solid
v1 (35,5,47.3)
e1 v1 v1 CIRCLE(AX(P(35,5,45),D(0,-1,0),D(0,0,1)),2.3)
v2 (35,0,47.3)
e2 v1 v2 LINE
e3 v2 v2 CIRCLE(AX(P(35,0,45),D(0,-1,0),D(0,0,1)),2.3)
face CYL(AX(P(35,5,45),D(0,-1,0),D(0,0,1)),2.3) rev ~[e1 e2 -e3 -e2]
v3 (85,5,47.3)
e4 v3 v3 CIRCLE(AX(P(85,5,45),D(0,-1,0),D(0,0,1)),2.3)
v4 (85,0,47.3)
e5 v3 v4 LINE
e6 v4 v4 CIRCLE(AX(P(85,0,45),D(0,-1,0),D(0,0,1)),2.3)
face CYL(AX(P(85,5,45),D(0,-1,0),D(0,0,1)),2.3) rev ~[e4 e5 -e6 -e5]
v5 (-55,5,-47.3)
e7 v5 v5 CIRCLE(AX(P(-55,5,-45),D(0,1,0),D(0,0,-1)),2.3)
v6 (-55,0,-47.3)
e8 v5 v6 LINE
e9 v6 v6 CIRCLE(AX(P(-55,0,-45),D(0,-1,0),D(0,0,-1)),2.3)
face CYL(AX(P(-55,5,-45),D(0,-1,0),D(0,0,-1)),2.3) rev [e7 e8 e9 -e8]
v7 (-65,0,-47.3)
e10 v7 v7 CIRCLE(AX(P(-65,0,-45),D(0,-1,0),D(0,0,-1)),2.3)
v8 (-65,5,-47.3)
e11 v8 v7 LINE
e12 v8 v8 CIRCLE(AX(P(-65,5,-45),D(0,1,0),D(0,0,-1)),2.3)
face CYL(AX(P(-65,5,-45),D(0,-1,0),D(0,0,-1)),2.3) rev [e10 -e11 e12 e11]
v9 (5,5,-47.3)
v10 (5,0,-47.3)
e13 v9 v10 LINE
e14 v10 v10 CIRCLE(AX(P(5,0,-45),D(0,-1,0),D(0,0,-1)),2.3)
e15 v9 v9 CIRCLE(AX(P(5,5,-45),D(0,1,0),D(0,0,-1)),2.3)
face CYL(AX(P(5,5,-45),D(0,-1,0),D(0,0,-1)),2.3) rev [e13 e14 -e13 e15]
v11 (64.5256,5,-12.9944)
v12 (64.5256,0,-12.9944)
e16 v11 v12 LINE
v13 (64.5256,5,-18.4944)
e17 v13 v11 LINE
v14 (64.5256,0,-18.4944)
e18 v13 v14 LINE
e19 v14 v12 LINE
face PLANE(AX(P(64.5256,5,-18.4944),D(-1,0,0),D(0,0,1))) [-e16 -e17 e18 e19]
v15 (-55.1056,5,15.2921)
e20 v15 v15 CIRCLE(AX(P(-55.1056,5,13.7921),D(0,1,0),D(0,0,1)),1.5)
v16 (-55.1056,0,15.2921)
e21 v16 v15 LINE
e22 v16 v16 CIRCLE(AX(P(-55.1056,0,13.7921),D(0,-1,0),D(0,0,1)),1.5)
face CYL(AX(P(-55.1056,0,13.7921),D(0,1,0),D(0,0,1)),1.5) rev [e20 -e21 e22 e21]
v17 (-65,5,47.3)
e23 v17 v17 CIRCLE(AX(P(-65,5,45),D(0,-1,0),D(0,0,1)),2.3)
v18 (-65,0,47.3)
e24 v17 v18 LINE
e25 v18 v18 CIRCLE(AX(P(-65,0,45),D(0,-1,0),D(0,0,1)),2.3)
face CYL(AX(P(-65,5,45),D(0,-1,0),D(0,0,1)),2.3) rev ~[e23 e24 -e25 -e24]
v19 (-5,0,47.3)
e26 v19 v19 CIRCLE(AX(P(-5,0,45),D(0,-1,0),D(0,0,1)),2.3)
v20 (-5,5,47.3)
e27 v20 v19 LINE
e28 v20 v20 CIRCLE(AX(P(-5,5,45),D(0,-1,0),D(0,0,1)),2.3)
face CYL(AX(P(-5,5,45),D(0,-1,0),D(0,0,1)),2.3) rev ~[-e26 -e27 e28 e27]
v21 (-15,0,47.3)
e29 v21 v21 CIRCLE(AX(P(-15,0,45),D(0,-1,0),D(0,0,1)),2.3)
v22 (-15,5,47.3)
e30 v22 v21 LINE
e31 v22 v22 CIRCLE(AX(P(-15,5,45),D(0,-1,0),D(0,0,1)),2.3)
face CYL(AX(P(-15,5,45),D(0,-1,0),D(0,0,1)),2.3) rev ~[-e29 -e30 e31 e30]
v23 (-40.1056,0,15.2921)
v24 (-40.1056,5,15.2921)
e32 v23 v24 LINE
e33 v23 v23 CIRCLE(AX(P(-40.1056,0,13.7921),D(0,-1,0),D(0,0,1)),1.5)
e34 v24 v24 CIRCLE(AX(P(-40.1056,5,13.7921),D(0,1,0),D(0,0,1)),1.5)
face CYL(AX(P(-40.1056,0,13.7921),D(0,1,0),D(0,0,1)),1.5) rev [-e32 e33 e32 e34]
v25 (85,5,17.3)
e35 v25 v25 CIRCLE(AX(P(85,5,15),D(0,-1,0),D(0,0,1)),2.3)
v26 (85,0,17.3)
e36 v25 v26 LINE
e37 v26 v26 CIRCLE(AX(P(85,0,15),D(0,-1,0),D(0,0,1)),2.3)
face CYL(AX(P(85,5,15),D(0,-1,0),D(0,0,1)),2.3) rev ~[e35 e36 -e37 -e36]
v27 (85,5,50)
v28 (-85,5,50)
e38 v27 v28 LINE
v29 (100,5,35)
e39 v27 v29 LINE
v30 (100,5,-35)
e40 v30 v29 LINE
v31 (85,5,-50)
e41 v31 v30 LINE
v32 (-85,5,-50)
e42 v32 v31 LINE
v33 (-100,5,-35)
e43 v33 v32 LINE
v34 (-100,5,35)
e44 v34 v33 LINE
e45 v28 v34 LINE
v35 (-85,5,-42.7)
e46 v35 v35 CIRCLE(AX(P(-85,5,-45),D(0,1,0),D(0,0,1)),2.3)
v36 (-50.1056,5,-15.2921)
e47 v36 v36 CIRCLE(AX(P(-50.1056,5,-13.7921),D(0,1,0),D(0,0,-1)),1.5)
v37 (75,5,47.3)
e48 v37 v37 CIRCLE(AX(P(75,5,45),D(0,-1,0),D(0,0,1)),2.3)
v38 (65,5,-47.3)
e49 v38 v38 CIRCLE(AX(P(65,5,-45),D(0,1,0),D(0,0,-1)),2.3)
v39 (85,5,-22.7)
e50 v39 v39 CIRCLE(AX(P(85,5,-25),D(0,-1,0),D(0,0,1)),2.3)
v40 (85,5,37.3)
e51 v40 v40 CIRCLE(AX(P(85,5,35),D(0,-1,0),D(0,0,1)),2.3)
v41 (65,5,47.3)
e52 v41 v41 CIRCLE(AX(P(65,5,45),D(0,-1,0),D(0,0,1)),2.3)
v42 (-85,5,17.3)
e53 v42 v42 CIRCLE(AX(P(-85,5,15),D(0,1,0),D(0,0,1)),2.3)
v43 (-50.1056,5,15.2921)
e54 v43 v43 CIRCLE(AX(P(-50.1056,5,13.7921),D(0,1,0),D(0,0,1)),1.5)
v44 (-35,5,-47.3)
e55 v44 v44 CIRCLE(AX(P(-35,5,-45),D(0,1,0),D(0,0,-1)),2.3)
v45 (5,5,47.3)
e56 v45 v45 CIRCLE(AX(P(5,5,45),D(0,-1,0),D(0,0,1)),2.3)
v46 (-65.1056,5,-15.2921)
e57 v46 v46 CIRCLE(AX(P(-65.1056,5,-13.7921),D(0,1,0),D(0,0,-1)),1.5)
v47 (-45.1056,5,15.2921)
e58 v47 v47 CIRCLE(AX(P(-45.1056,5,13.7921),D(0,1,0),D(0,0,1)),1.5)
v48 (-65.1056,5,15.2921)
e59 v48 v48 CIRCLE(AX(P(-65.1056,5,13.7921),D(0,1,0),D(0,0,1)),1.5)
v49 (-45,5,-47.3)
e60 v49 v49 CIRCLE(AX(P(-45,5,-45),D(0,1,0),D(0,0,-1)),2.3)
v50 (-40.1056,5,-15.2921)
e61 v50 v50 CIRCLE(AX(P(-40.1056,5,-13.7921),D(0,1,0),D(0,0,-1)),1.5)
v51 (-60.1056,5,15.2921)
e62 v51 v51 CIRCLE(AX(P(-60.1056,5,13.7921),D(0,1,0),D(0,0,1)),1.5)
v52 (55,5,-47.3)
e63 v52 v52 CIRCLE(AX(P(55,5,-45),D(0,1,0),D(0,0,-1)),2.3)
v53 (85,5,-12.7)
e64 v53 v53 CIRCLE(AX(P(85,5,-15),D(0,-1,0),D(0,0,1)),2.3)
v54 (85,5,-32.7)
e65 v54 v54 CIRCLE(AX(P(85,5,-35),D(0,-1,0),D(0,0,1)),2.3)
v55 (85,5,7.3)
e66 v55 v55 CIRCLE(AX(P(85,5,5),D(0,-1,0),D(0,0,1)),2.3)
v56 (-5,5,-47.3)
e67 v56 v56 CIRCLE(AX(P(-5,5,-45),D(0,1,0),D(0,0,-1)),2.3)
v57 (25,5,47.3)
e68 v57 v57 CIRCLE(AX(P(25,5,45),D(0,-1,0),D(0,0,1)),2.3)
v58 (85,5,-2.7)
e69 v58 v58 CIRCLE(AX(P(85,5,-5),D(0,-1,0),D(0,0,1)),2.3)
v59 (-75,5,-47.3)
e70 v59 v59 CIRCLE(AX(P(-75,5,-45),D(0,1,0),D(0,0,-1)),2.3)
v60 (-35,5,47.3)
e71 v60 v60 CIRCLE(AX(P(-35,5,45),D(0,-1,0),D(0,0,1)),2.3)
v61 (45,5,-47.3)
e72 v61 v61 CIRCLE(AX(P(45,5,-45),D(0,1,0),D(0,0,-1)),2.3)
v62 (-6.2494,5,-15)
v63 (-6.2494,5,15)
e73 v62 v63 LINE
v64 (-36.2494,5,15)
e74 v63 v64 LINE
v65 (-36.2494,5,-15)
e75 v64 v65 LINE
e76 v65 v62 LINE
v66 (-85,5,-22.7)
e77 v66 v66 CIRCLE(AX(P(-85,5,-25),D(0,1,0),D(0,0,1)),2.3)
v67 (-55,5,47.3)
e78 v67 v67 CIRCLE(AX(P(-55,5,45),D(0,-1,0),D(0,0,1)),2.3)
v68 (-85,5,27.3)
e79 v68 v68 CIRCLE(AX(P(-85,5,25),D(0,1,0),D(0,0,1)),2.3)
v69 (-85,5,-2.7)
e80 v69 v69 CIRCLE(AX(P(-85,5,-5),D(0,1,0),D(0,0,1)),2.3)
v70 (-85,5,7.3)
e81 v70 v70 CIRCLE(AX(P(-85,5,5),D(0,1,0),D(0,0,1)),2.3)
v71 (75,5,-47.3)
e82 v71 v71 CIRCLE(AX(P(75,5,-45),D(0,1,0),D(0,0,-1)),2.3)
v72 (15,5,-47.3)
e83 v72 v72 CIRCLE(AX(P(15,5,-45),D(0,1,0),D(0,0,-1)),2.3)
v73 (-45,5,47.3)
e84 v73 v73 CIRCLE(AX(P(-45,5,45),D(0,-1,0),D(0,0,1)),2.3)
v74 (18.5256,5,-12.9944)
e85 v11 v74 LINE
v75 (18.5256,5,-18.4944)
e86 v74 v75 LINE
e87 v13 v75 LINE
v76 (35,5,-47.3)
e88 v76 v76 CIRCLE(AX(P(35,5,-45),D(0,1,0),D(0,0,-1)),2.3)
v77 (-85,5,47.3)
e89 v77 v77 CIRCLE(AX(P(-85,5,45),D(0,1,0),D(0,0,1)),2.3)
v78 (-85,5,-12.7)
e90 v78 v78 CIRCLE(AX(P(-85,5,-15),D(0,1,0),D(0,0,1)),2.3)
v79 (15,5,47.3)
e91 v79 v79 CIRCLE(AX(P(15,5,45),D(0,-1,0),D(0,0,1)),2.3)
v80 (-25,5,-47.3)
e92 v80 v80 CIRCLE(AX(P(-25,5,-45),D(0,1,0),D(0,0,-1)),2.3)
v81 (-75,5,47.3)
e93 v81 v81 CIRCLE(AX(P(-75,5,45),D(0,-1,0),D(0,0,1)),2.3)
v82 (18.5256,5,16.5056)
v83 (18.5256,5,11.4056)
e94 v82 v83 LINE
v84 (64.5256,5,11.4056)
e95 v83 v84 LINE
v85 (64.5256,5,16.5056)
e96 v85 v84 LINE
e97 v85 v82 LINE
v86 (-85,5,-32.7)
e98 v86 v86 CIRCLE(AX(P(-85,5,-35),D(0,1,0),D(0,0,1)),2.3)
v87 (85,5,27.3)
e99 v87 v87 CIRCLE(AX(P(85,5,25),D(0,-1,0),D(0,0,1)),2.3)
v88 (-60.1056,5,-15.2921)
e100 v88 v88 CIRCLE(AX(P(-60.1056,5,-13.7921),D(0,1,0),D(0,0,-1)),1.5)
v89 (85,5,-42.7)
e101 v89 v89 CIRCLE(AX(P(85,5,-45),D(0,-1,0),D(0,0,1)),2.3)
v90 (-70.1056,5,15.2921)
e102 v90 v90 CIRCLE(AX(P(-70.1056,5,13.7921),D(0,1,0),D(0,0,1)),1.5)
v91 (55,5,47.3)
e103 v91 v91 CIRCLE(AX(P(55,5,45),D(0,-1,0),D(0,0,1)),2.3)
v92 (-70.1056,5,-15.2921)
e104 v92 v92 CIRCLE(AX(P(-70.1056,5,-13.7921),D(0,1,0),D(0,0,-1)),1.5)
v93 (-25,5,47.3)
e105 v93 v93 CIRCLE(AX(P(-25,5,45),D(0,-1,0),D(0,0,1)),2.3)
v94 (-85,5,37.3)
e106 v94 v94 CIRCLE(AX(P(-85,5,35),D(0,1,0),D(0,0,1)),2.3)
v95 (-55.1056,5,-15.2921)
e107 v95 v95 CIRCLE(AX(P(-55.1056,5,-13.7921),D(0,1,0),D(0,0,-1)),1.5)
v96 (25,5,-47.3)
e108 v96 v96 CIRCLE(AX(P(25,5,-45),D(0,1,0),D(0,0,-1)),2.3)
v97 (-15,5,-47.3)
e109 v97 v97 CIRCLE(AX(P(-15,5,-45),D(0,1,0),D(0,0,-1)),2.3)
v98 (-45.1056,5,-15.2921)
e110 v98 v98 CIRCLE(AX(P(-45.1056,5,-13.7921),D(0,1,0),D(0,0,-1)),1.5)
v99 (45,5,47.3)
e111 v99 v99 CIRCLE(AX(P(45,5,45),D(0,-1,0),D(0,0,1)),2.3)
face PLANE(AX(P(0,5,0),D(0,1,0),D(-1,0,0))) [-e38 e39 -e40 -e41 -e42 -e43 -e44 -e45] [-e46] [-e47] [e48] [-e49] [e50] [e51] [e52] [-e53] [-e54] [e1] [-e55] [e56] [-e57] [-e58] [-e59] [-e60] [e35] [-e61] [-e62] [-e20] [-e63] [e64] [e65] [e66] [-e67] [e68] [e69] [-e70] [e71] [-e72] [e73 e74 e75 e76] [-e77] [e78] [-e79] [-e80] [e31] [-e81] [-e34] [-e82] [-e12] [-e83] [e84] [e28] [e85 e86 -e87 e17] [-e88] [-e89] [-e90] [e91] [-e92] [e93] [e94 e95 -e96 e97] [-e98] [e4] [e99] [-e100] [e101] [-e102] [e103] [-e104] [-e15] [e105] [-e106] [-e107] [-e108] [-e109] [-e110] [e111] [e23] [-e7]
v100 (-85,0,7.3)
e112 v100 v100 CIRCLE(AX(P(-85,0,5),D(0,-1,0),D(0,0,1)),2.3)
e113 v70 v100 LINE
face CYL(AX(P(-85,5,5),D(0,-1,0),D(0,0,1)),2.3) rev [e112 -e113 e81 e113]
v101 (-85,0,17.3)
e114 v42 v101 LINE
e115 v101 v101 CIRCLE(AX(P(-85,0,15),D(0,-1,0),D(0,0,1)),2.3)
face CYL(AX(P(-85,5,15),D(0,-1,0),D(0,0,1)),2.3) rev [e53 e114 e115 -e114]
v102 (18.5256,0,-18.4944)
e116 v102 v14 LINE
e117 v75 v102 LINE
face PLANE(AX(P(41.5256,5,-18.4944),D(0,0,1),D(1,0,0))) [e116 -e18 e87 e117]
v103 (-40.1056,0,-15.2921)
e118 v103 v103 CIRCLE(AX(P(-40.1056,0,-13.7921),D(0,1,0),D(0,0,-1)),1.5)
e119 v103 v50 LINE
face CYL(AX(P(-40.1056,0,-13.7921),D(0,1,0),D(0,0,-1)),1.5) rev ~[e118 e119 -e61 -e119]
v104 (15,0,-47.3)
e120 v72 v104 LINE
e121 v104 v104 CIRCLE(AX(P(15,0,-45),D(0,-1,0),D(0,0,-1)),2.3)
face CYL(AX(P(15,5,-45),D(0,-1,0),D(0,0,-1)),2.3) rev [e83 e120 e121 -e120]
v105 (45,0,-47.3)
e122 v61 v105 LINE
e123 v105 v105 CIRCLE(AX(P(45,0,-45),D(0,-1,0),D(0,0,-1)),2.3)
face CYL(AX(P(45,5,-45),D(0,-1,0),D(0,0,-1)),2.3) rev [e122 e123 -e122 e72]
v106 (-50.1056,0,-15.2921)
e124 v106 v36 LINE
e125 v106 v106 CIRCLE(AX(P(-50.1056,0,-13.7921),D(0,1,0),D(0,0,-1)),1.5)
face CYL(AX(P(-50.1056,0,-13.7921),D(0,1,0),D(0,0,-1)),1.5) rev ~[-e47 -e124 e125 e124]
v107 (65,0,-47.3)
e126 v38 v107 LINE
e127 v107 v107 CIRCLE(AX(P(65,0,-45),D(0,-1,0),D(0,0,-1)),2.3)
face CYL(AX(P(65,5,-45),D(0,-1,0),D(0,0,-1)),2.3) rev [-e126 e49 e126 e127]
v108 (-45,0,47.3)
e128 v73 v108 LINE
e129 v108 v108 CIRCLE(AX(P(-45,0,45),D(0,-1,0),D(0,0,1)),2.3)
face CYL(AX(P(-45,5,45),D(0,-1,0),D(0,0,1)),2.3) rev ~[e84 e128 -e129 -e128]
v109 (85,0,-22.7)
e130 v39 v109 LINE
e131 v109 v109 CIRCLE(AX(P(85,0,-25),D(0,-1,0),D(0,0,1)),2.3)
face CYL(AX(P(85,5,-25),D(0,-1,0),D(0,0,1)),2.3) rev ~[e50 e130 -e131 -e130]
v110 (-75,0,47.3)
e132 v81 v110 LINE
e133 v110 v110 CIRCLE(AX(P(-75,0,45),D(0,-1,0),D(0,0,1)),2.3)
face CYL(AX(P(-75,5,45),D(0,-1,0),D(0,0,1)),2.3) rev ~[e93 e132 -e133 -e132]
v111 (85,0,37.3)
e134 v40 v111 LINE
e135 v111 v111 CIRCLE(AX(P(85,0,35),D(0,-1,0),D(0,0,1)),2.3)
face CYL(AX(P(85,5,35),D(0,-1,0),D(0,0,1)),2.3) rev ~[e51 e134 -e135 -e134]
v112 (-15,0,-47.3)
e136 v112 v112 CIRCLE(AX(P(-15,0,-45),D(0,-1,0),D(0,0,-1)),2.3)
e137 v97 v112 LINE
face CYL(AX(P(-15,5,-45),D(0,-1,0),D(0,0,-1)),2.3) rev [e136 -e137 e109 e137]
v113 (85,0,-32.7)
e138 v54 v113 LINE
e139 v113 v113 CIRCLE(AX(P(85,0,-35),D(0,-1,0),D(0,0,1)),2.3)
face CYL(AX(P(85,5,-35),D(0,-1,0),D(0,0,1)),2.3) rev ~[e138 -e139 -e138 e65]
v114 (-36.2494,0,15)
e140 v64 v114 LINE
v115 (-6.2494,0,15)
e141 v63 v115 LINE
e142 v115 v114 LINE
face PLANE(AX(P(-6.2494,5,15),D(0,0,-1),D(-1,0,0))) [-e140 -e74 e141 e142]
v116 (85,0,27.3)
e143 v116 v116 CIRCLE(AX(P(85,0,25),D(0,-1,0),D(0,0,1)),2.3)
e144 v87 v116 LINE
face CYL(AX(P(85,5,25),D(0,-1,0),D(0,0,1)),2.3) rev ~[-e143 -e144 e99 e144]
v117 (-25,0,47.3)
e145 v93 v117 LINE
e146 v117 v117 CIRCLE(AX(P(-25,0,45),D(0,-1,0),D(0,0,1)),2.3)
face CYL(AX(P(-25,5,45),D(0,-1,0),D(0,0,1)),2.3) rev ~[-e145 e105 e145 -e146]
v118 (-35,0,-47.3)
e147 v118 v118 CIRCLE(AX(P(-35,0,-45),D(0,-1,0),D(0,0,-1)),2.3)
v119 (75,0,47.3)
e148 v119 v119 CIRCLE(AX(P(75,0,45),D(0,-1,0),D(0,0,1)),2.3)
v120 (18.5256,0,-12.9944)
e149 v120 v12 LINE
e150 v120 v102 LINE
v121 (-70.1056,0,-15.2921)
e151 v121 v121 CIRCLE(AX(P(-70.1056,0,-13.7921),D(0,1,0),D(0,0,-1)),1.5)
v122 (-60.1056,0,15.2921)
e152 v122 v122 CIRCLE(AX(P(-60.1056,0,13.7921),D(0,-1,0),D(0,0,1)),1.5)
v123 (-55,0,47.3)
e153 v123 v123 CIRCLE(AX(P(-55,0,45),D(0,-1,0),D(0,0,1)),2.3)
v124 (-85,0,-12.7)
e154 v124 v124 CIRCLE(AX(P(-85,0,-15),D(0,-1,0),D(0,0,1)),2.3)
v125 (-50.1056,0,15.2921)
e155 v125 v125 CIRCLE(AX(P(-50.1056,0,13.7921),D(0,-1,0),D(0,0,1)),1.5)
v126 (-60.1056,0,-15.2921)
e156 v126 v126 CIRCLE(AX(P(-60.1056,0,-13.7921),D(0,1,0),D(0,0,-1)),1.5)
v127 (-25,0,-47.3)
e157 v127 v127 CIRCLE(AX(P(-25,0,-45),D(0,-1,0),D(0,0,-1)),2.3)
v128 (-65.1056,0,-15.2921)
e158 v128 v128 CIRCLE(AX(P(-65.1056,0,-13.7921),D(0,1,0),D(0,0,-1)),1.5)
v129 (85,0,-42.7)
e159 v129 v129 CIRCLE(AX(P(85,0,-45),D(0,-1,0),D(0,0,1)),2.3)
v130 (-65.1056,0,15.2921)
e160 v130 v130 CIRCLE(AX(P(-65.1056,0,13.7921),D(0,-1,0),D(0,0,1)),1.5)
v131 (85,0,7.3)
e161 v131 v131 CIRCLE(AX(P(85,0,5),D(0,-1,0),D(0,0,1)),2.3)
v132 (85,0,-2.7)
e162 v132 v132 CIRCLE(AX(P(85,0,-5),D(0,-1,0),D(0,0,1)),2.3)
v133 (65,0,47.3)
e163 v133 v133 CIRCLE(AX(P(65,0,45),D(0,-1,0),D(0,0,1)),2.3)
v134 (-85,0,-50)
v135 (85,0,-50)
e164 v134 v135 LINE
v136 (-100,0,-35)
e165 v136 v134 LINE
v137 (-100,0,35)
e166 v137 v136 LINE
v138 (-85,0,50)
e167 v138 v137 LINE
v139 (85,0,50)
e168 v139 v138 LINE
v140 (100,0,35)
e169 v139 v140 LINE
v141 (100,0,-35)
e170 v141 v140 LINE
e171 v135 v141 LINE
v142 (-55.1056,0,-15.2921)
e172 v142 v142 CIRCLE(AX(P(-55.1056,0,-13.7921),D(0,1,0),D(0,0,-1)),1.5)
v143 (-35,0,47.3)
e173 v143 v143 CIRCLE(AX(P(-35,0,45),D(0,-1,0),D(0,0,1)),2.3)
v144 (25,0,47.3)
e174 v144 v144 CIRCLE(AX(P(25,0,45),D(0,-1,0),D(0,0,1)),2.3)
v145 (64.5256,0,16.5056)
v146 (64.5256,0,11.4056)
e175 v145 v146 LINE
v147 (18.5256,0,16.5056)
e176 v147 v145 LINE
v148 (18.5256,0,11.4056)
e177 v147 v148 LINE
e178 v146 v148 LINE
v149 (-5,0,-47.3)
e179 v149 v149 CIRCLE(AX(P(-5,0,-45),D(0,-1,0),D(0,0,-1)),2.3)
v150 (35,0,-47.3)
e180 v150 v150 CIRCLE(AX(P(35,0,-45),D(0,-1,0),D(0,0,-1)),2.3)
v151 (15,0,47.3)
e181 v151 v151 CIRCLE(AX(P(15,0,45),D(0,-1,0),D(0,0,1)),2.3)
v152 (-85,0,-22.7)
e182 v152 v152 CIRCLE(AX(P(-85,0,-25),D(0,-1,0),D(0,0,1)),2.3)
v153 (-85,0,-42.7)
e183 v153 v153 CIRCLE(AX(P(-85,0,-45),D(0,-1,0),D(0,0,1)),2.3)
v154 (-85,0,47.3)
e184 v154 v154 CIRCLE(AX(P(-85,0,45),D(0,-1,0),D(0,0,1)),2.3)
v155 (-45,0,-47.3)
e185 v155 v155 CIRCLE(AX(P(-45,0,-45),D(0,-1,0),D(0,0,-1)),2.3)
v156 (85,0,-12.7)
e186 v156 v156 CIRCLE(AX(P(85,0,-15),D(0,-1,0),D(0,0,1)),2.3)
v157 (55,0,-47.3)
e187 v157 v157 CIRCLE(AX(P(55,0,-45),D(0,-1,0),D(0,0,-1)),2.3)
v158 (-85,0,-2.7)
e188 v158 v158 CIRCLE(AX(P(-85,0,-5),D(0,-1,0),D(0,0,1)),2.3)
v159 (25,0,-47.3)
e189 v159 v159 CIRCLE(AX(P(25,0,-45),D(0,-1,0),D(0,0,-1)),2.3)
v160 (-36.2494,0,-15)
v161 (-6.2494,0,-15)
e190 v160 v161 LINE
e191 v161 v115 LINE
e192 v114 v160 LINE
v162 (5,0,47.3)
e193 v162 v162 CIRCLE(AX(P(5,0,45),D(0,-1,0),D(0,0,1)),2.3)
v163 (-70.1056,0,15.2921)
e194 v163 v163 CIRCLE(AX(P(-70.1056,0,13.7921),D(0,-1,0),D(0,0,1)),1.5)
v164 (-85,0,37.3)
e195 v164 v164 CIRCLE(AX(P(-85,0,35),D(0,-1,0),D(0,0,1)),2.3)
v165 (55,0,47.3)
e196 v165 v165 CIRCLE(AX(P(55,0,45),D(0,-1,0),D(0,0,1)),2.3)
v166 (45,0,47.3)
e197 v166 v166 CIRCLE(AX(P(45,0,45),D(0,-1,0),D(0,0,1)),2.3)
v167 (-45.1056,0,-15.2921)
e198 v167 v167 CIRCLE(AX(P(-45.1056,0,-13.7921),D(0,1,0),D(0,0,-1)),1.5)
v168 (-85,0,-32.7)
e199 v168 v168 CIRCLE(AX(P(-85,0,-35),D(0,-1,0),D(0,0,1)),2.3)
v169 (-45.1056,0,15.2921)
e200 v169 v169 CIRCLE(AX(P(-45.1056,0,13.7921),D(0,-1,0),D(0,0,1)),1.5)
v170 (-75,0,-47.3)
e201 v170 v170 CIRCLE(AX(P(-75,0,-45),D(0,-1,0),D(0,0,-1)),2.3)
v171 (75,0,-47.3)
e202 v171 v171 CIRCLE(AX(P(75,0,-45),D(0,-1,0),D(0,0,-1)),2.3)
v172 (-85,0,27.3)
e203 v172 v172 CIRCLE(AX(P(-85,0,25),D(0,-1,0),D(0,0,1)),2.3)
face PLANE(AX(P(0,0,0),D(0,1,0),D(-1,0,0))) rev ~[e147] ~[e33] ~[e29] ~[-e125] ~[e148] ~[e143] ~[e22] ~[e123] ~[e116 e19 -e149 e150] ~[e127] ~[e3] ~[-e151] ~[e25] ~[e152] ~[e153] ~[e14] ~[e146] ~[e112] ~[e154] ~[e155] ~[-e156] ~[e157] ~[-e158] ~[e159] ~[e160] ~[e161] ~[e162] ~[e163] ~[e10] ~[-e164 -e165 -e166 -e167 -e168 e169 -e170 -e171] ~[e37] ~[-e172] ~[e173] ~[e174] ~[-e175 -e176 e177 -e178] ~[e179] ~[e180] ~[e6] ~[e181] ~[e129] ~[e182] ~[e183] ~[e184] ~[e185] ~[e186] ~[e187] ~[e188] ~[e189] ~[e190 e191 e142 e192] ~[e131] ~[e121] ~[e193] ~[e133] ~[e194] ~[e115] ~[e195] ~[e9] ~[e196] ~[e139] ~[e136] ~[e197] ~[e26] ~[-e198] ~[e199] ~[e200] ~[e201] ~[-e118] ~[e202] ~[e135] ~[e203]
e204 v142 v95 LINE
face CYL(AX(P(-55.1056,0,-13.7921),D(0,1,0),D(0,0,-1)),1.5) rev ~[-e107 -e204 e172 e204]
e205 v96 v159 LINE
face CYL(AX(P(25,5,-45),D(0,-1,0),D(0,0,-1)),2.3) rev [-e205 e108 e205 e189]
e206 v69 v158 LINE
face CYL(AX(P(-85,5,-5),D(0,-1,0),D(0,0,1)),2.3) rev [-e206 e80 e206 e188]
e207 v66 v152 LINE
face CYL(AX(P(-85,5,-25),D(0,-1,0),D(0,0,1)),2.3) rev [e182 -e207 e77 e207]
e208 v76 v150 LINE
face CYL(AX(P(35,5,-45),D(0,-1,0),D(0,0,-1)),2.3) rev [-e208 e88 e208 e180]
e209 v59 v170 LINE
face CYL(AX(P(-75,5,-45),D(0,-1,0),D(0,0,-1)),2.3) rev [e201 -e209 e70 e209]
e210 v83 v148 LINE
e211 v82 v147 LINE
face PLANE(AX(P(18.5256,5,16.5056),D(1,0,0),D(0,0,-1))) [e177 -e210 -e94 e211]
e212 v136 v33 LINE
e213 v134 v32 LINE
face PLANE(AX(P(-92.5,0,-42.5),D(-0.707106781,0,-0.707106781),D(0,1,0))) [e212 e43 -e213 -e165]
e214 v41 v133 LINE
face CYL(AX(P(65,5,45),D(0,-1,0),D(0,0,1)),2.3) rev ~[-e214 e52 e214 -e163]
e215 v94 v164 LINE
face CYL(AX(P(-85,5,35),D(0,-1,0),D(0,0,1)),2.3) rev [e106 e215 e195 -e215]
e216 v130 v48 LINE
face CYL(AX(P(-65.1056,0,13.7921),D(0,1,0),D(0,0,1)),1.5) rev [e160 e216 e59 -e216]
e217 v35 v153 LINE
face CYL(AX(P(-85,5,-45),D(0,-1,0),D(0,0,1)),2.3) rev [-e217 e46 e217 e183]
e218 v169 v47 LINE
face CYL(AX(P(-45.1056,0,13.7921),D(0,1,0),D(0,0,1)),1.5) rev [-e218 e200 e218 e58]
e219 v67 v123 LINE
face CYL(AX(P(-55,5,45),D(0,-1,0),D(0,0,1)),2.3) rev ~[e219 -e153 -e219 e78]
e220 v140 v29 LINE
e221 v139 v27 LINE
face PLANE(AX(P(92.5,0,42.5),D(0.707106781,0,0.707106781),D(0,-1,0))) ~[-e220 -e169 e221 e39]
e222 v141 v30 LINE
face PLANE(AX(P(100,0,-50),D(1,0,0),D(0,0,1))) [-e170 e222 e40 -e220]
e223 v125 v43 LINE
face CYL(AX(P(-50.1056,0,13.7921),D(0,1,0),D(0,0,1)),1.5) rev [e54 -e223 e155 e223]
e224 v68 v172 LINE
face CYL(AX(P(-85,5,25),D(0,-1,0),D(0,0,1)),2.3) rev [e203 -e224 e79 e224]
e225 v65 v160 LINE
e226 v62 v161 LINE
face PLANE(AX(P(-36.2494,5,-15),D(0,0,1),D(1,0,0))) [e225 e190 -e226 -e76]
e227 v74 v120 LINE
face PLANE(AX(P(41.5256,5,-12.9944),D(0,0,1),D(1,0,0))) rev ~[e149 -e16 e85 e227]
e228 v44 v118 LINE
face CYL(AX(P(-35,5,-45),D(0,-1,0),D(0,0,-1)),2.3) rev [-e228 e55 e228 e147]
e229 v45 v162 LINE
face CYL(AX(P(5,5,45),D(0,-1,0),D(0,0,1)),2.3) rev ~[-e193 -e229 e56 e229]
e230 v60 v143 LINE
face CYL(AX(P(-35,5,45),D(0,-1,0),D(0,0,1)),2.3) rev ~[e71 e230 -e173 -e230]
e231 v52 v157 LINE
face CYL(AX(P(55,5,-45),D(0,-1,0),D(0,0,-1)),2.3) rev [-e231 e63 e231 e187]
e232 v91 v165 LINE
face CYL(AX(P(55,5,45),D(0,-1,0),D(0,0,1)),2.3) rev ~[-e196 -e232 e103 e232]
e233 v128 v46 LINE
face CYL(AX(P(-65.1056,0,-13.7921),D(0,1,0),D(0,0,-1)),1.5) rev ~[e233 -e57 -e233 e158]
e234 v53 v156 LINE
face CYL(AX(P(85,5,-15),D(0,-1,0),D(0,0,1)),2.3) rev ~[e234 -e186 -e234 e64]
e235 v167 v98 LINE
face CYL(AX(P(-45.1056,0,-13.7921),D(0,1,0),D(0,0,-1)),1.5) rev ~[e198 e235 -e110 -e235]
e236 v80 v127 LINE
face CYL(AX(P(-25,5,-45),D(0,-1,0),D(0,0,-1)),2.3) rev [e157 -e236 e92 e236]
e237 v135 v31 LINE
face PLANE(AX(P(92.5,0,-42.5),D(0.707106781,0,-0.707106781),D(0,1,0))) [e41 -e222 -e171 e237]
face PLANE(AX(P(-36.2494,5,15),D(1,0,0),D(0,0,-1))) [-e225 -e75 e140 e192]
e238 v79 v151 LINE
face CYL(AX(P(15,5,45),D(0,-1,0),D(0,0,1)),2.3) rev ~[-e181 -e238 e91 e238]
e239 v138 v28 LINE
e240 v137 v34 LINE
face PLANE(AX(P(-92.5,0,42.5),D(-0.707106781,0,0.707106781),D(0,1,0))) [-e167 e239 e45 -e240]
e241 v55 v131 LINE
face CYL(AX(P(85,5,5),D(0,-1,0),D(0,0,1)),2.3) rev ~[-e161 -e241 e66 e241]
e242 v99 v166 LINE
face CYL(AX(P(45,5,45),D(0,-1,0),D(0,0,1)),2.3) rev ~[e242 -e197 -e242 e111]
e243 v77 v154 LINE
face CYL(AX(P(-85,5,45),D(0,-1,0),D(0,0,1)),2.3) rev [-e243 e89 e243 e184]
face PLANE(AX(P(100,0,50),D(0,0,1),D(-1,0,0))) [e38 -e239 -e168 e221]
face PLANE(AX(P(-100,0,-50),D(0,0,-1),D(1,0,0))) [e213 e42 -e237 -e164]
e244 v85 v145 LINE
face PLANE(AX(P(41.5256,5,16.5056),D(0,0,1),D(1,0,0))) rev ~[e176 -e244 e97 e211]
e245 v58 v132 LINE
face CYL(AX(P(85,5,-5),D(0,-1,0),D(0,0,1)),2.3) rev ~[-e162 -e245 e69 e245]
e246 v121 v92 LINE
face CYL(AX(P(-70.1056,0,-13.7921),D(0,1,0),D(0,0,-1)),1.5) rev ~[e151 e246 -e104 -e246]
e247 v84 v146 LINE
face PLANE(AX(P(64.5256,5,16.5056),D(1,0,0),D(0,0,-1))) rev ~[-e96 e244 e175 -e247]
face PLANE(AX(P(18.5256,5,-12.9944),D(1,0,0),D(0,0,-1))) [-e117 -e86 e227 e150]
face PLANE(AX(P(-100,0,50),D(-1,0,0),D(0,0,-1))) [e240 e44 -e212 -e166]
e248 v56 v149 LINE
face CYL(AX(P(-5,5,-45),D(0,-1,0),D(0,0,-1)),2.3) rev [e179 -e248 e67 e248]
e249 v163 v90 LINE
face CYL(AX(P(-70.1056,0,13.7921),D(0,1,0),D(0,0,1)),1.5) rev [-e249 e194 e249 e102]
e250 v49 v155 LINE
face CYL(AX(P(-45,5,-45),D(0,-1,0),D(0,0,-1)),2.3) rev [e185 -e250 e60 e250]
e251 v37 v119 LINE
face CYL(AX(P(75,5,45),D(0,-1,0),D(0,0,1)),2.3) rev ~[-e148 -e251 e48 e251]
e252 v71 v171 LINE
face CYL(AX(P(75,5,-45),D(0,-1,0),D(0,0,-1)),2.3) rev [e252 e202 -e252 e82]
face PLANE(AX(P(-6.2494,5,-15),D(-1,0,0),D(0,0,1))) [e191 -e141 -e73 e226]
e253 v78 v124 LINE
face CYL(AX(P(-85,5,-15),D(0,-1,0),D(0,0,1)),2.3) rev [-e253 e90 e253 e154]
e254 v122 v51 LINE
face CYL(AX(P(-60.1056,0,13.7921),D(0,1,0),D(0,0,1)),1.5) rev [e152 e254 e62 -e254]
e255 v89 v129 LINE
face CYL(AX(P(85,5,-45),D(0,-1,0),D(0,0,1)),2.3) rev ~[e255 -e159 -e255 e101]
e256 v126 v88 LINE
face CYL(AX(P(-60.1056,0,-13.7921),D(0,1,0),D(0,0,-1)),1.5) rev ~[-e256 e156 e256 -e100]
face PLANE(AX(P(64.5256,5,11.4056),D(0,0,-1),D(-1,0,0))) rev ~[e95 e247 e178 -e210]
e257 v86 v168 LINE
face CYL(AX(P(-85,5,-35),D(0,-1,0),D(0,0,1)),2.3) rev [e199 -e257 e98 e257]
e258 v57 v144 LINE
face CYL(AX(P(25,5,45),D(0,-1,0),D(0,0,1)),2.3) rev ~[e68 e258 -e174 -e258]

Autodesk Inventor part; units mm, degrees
ref_plane "YZ Plane" through (0, 0, 0) normal (1, 0, 0) x (0, 1, 0)
ref_plane "XZ Plane" through (0, 0, 0) normal (0, 1, 0) x (-1, 0, 0)
ref_plane "XY Plane" through (0, 0, 0) normal (0, 0, 1) x (1, 0, 0)
sketch "Sketch1" plane through (0, 0, 0) normal (0, 1, 0) x (-1, 0, 0)
  line L0 (-100, 50) -> (100, 50)
  line L1 (100, 50) -> (100, -50)
  line L2 (100, -50) -> (-100, -50)
  line L3 (-100, -50) -> (-100, 50)
  line L4 (-100, 50) -> (100, -50) construction
  line L5 (100, 50) -> (-100, -50) construction
  point P0 (0, 0)
  dimension "d0" = 200
  dimension "d1" = 100
extrude "Extrusion1" add sketch "Sketch1" along normal blind 5
chamfer "Chamfer1" distance 15 angle 45 4 edges at (100, 2.5, -50) (100, 2.5, 50) (-100, 2.5, 50) (-100, 2.5, -50)
sketch "Sketch2" plane through (0, 5, 0) normal (0, 1, 0) x (1, 0, 0)
  line L0 (-85, -50) -> (85, -50) projected
  line L1 (85, 50) -> (85, -50)
  line L2 (85, 0) -> (0, 0)
  line L3 (85, 50) -> (-85, 50) projected
  line L4 (85, 0) -> (75, 0)
  line L5 (75, 0) -> (75, 50)
  line L6 (85, -50) -> (85, -45)
  line L7 (85, -45) -> (87.1749, -45)
  dimension "d7" = 10
  dimension "d15" = 5
hole "Hole2" at (85, 5, 45) direction (0, -1, 0) diameter 4.6 depth 12
pattern_linear "Rectangular Pattern1" count 10 spacing 10 along (0, 0, -1) of "Hole2"
mirror "Mirror1" about plane through (0, 0, 0) normal (1, 0, 0) of "Hole2", "Rectangular Pattern1"
sketch "Sketch4" plane through (0, 5, 0) normal (0, 1, 0) x (1, 0, 0)
  line L0 (-80.0603, -82.0418) -> (-80.0603, 17.9582)
  line L1 (90.6107, -82.0418) -> (90.6107, 17.9582)
  line L2 (-0.0013, -0.0056) -> (-0.0013, -50.0056)
  line L3 (83.0525, -0.0056) -> (83.0525, -82.0364)
  line L4 (83.0525, -0.0056) -> (-0.0013, -0.0056)
  line L5 (41.5256, -0.0056) -> (41.5256, -11.4056)
  line L6 (41.5256, -0.0056) -> (41.5256, 12.9944)
  line L7 (41.5256, 12.9944) -> (64.5256, 12.9944)
  line L8 (64.5256, 12.9944) -> (64.5256, -11.4056)
  line L9 (64.5256, -11.4056) -> (41.5256, -11.4056)
  line L10 (41.5256, -11.4056) -> (18.5256, -11.4056)
  line L11 (18.5256, -11.4056) -> (18.5256, 12.9944)
  line L12 (18.5256, 12.9944) -> (41.5256, 12.9944)
  line L13 (41.5256, 12.9944) -> (41.5256, 18.4944)
  line L14 (41.5256, 18.4944) -> (64.5256, 18.4944)
  line L15 (64.5256, 18.4944) -> (64.5256, 12.9944)
  line L16 (41.5256, 18.4944) -> (18.5256, 18.4944)
  line L17 (18.5256, 12.9944) -> (18.5256, 18.4944)
  line L18 (41.5256, -11.4056) -> (41.5256, -16.5056)
  line L19 (41.5256, -16.5056) -> (64.5256, -16.5056)
  line L20 (64.5256, -16.5056) -> (64.5256, -11.4056)
  line L21 (41.5256, -16.5056) -> (18.5256, -16.5056)
  line L22 (18.5256, -16.5056) -> (18.5256, -11.4056)
  point P0 (0, 0)
  dimension "d31" = 100
  dimension "d32" = 50
  dimension "d35" = 23
  dimension "d36" = 23
  dimension "d37" = 5.5
  dimension "d38" = 23
  dimension "d39" = 23
  dimension "d40" = 5.1
  dimension "d41" = 23
  dimension "d42" = 23
  dimension "d56" = 35
extrude "Extrusion3" cut sketch "Sketch4" against normal blind 10 contours L7 L13 L14 L15 | L20 L19 L18 L9 | L18 L21 L22 L10 | L12 L17 L16 L13
sketch "Sketch6" plane through (0, 0, 0) normal (0, -1, 0) x (1, 0, 0)
  line L0 (100, 35) -> (100, -35) projected
  line L1 (100, 0) -> (-99.9985, 0)
  line L2 (0, 0) -> (-99.9985, 0)
  line L3 (-49.9993, 0) -> (-49.9993, 50)
  line L4 (-85, 50) -> (85, 50) projected
  line L5 (-49.9993, 0) -> (-49.9993, -50.9458)
  circle A0 centre (-50.1056, -13.7921) radius 1.5
  dimension "d70" = 3
hole "Hole3" at (-50.1056, 0, -13.7921) direction (0, 1, 0) diameter 3 depth 12.7625
pattern_linear "Rectangular Pattern2" count 3 spacing 5 along (1, 0, 0) count 3 spacing 10 along (-1, 0, 0) of "Hole3"
mirror "Mirror2" about plane through (0, 0, 0) normal (0, 0, 1) of "Hole3", "Rectangular Pattern2"
sketch "Sketch7" plane through (0, 5, 0) normal (0, 1, 0) x (1, 0, 0)
  circle A0 centre (-85, -45) radius 2.3 projected
  line L0 (-85, -45) -> (-75, -45)
  circle A1 centre (-75, -45) radius 2.3
  point P0 (0, 0)
  dimension "d84" = 10
  dimension "d85" = 4.6
hole "Hole4" at (-75, 5, 45) direction (0, -1, 0) diameter 4.6 depth 7
pattern_linear "Rectangular Pattern3" count 16 spacing 10 along (1, 0, 0) of "Hole4"
mirror "Mirror3" about plane through (0, 0, 0) normal (0, 0, 1) of "Hole4", "Rectangular Pattern3"
sketch "Sketch8" plane through (0, 5, 0) normal (0, 1, 0) x (1, 0, 0)
  line L0 (-6.2494, -15) -> (-36.2494, -15)
  line L1 (-36.2494, -15) -> (-36.2494, 15)
  line L2 (-36.2494, 15) -> (-6.2494, 15)
  line L3 (-6.2494, 15) -> (-6.2494, -15)
  line L4 (-6.2494, -15) -> (-36.2494, 15) construction
  line L5 (-36.2494, -15) -> (-6.2494, 15) construction
  point P0 (0, 0)
  point P1 (-21.2494, 0)
  dimension "d96" = 30
  dimension "d97" = 30
extrude "Extrusion5" cut sketch "Sketch8" against normal blind 10
properties part number "Chasis1"
